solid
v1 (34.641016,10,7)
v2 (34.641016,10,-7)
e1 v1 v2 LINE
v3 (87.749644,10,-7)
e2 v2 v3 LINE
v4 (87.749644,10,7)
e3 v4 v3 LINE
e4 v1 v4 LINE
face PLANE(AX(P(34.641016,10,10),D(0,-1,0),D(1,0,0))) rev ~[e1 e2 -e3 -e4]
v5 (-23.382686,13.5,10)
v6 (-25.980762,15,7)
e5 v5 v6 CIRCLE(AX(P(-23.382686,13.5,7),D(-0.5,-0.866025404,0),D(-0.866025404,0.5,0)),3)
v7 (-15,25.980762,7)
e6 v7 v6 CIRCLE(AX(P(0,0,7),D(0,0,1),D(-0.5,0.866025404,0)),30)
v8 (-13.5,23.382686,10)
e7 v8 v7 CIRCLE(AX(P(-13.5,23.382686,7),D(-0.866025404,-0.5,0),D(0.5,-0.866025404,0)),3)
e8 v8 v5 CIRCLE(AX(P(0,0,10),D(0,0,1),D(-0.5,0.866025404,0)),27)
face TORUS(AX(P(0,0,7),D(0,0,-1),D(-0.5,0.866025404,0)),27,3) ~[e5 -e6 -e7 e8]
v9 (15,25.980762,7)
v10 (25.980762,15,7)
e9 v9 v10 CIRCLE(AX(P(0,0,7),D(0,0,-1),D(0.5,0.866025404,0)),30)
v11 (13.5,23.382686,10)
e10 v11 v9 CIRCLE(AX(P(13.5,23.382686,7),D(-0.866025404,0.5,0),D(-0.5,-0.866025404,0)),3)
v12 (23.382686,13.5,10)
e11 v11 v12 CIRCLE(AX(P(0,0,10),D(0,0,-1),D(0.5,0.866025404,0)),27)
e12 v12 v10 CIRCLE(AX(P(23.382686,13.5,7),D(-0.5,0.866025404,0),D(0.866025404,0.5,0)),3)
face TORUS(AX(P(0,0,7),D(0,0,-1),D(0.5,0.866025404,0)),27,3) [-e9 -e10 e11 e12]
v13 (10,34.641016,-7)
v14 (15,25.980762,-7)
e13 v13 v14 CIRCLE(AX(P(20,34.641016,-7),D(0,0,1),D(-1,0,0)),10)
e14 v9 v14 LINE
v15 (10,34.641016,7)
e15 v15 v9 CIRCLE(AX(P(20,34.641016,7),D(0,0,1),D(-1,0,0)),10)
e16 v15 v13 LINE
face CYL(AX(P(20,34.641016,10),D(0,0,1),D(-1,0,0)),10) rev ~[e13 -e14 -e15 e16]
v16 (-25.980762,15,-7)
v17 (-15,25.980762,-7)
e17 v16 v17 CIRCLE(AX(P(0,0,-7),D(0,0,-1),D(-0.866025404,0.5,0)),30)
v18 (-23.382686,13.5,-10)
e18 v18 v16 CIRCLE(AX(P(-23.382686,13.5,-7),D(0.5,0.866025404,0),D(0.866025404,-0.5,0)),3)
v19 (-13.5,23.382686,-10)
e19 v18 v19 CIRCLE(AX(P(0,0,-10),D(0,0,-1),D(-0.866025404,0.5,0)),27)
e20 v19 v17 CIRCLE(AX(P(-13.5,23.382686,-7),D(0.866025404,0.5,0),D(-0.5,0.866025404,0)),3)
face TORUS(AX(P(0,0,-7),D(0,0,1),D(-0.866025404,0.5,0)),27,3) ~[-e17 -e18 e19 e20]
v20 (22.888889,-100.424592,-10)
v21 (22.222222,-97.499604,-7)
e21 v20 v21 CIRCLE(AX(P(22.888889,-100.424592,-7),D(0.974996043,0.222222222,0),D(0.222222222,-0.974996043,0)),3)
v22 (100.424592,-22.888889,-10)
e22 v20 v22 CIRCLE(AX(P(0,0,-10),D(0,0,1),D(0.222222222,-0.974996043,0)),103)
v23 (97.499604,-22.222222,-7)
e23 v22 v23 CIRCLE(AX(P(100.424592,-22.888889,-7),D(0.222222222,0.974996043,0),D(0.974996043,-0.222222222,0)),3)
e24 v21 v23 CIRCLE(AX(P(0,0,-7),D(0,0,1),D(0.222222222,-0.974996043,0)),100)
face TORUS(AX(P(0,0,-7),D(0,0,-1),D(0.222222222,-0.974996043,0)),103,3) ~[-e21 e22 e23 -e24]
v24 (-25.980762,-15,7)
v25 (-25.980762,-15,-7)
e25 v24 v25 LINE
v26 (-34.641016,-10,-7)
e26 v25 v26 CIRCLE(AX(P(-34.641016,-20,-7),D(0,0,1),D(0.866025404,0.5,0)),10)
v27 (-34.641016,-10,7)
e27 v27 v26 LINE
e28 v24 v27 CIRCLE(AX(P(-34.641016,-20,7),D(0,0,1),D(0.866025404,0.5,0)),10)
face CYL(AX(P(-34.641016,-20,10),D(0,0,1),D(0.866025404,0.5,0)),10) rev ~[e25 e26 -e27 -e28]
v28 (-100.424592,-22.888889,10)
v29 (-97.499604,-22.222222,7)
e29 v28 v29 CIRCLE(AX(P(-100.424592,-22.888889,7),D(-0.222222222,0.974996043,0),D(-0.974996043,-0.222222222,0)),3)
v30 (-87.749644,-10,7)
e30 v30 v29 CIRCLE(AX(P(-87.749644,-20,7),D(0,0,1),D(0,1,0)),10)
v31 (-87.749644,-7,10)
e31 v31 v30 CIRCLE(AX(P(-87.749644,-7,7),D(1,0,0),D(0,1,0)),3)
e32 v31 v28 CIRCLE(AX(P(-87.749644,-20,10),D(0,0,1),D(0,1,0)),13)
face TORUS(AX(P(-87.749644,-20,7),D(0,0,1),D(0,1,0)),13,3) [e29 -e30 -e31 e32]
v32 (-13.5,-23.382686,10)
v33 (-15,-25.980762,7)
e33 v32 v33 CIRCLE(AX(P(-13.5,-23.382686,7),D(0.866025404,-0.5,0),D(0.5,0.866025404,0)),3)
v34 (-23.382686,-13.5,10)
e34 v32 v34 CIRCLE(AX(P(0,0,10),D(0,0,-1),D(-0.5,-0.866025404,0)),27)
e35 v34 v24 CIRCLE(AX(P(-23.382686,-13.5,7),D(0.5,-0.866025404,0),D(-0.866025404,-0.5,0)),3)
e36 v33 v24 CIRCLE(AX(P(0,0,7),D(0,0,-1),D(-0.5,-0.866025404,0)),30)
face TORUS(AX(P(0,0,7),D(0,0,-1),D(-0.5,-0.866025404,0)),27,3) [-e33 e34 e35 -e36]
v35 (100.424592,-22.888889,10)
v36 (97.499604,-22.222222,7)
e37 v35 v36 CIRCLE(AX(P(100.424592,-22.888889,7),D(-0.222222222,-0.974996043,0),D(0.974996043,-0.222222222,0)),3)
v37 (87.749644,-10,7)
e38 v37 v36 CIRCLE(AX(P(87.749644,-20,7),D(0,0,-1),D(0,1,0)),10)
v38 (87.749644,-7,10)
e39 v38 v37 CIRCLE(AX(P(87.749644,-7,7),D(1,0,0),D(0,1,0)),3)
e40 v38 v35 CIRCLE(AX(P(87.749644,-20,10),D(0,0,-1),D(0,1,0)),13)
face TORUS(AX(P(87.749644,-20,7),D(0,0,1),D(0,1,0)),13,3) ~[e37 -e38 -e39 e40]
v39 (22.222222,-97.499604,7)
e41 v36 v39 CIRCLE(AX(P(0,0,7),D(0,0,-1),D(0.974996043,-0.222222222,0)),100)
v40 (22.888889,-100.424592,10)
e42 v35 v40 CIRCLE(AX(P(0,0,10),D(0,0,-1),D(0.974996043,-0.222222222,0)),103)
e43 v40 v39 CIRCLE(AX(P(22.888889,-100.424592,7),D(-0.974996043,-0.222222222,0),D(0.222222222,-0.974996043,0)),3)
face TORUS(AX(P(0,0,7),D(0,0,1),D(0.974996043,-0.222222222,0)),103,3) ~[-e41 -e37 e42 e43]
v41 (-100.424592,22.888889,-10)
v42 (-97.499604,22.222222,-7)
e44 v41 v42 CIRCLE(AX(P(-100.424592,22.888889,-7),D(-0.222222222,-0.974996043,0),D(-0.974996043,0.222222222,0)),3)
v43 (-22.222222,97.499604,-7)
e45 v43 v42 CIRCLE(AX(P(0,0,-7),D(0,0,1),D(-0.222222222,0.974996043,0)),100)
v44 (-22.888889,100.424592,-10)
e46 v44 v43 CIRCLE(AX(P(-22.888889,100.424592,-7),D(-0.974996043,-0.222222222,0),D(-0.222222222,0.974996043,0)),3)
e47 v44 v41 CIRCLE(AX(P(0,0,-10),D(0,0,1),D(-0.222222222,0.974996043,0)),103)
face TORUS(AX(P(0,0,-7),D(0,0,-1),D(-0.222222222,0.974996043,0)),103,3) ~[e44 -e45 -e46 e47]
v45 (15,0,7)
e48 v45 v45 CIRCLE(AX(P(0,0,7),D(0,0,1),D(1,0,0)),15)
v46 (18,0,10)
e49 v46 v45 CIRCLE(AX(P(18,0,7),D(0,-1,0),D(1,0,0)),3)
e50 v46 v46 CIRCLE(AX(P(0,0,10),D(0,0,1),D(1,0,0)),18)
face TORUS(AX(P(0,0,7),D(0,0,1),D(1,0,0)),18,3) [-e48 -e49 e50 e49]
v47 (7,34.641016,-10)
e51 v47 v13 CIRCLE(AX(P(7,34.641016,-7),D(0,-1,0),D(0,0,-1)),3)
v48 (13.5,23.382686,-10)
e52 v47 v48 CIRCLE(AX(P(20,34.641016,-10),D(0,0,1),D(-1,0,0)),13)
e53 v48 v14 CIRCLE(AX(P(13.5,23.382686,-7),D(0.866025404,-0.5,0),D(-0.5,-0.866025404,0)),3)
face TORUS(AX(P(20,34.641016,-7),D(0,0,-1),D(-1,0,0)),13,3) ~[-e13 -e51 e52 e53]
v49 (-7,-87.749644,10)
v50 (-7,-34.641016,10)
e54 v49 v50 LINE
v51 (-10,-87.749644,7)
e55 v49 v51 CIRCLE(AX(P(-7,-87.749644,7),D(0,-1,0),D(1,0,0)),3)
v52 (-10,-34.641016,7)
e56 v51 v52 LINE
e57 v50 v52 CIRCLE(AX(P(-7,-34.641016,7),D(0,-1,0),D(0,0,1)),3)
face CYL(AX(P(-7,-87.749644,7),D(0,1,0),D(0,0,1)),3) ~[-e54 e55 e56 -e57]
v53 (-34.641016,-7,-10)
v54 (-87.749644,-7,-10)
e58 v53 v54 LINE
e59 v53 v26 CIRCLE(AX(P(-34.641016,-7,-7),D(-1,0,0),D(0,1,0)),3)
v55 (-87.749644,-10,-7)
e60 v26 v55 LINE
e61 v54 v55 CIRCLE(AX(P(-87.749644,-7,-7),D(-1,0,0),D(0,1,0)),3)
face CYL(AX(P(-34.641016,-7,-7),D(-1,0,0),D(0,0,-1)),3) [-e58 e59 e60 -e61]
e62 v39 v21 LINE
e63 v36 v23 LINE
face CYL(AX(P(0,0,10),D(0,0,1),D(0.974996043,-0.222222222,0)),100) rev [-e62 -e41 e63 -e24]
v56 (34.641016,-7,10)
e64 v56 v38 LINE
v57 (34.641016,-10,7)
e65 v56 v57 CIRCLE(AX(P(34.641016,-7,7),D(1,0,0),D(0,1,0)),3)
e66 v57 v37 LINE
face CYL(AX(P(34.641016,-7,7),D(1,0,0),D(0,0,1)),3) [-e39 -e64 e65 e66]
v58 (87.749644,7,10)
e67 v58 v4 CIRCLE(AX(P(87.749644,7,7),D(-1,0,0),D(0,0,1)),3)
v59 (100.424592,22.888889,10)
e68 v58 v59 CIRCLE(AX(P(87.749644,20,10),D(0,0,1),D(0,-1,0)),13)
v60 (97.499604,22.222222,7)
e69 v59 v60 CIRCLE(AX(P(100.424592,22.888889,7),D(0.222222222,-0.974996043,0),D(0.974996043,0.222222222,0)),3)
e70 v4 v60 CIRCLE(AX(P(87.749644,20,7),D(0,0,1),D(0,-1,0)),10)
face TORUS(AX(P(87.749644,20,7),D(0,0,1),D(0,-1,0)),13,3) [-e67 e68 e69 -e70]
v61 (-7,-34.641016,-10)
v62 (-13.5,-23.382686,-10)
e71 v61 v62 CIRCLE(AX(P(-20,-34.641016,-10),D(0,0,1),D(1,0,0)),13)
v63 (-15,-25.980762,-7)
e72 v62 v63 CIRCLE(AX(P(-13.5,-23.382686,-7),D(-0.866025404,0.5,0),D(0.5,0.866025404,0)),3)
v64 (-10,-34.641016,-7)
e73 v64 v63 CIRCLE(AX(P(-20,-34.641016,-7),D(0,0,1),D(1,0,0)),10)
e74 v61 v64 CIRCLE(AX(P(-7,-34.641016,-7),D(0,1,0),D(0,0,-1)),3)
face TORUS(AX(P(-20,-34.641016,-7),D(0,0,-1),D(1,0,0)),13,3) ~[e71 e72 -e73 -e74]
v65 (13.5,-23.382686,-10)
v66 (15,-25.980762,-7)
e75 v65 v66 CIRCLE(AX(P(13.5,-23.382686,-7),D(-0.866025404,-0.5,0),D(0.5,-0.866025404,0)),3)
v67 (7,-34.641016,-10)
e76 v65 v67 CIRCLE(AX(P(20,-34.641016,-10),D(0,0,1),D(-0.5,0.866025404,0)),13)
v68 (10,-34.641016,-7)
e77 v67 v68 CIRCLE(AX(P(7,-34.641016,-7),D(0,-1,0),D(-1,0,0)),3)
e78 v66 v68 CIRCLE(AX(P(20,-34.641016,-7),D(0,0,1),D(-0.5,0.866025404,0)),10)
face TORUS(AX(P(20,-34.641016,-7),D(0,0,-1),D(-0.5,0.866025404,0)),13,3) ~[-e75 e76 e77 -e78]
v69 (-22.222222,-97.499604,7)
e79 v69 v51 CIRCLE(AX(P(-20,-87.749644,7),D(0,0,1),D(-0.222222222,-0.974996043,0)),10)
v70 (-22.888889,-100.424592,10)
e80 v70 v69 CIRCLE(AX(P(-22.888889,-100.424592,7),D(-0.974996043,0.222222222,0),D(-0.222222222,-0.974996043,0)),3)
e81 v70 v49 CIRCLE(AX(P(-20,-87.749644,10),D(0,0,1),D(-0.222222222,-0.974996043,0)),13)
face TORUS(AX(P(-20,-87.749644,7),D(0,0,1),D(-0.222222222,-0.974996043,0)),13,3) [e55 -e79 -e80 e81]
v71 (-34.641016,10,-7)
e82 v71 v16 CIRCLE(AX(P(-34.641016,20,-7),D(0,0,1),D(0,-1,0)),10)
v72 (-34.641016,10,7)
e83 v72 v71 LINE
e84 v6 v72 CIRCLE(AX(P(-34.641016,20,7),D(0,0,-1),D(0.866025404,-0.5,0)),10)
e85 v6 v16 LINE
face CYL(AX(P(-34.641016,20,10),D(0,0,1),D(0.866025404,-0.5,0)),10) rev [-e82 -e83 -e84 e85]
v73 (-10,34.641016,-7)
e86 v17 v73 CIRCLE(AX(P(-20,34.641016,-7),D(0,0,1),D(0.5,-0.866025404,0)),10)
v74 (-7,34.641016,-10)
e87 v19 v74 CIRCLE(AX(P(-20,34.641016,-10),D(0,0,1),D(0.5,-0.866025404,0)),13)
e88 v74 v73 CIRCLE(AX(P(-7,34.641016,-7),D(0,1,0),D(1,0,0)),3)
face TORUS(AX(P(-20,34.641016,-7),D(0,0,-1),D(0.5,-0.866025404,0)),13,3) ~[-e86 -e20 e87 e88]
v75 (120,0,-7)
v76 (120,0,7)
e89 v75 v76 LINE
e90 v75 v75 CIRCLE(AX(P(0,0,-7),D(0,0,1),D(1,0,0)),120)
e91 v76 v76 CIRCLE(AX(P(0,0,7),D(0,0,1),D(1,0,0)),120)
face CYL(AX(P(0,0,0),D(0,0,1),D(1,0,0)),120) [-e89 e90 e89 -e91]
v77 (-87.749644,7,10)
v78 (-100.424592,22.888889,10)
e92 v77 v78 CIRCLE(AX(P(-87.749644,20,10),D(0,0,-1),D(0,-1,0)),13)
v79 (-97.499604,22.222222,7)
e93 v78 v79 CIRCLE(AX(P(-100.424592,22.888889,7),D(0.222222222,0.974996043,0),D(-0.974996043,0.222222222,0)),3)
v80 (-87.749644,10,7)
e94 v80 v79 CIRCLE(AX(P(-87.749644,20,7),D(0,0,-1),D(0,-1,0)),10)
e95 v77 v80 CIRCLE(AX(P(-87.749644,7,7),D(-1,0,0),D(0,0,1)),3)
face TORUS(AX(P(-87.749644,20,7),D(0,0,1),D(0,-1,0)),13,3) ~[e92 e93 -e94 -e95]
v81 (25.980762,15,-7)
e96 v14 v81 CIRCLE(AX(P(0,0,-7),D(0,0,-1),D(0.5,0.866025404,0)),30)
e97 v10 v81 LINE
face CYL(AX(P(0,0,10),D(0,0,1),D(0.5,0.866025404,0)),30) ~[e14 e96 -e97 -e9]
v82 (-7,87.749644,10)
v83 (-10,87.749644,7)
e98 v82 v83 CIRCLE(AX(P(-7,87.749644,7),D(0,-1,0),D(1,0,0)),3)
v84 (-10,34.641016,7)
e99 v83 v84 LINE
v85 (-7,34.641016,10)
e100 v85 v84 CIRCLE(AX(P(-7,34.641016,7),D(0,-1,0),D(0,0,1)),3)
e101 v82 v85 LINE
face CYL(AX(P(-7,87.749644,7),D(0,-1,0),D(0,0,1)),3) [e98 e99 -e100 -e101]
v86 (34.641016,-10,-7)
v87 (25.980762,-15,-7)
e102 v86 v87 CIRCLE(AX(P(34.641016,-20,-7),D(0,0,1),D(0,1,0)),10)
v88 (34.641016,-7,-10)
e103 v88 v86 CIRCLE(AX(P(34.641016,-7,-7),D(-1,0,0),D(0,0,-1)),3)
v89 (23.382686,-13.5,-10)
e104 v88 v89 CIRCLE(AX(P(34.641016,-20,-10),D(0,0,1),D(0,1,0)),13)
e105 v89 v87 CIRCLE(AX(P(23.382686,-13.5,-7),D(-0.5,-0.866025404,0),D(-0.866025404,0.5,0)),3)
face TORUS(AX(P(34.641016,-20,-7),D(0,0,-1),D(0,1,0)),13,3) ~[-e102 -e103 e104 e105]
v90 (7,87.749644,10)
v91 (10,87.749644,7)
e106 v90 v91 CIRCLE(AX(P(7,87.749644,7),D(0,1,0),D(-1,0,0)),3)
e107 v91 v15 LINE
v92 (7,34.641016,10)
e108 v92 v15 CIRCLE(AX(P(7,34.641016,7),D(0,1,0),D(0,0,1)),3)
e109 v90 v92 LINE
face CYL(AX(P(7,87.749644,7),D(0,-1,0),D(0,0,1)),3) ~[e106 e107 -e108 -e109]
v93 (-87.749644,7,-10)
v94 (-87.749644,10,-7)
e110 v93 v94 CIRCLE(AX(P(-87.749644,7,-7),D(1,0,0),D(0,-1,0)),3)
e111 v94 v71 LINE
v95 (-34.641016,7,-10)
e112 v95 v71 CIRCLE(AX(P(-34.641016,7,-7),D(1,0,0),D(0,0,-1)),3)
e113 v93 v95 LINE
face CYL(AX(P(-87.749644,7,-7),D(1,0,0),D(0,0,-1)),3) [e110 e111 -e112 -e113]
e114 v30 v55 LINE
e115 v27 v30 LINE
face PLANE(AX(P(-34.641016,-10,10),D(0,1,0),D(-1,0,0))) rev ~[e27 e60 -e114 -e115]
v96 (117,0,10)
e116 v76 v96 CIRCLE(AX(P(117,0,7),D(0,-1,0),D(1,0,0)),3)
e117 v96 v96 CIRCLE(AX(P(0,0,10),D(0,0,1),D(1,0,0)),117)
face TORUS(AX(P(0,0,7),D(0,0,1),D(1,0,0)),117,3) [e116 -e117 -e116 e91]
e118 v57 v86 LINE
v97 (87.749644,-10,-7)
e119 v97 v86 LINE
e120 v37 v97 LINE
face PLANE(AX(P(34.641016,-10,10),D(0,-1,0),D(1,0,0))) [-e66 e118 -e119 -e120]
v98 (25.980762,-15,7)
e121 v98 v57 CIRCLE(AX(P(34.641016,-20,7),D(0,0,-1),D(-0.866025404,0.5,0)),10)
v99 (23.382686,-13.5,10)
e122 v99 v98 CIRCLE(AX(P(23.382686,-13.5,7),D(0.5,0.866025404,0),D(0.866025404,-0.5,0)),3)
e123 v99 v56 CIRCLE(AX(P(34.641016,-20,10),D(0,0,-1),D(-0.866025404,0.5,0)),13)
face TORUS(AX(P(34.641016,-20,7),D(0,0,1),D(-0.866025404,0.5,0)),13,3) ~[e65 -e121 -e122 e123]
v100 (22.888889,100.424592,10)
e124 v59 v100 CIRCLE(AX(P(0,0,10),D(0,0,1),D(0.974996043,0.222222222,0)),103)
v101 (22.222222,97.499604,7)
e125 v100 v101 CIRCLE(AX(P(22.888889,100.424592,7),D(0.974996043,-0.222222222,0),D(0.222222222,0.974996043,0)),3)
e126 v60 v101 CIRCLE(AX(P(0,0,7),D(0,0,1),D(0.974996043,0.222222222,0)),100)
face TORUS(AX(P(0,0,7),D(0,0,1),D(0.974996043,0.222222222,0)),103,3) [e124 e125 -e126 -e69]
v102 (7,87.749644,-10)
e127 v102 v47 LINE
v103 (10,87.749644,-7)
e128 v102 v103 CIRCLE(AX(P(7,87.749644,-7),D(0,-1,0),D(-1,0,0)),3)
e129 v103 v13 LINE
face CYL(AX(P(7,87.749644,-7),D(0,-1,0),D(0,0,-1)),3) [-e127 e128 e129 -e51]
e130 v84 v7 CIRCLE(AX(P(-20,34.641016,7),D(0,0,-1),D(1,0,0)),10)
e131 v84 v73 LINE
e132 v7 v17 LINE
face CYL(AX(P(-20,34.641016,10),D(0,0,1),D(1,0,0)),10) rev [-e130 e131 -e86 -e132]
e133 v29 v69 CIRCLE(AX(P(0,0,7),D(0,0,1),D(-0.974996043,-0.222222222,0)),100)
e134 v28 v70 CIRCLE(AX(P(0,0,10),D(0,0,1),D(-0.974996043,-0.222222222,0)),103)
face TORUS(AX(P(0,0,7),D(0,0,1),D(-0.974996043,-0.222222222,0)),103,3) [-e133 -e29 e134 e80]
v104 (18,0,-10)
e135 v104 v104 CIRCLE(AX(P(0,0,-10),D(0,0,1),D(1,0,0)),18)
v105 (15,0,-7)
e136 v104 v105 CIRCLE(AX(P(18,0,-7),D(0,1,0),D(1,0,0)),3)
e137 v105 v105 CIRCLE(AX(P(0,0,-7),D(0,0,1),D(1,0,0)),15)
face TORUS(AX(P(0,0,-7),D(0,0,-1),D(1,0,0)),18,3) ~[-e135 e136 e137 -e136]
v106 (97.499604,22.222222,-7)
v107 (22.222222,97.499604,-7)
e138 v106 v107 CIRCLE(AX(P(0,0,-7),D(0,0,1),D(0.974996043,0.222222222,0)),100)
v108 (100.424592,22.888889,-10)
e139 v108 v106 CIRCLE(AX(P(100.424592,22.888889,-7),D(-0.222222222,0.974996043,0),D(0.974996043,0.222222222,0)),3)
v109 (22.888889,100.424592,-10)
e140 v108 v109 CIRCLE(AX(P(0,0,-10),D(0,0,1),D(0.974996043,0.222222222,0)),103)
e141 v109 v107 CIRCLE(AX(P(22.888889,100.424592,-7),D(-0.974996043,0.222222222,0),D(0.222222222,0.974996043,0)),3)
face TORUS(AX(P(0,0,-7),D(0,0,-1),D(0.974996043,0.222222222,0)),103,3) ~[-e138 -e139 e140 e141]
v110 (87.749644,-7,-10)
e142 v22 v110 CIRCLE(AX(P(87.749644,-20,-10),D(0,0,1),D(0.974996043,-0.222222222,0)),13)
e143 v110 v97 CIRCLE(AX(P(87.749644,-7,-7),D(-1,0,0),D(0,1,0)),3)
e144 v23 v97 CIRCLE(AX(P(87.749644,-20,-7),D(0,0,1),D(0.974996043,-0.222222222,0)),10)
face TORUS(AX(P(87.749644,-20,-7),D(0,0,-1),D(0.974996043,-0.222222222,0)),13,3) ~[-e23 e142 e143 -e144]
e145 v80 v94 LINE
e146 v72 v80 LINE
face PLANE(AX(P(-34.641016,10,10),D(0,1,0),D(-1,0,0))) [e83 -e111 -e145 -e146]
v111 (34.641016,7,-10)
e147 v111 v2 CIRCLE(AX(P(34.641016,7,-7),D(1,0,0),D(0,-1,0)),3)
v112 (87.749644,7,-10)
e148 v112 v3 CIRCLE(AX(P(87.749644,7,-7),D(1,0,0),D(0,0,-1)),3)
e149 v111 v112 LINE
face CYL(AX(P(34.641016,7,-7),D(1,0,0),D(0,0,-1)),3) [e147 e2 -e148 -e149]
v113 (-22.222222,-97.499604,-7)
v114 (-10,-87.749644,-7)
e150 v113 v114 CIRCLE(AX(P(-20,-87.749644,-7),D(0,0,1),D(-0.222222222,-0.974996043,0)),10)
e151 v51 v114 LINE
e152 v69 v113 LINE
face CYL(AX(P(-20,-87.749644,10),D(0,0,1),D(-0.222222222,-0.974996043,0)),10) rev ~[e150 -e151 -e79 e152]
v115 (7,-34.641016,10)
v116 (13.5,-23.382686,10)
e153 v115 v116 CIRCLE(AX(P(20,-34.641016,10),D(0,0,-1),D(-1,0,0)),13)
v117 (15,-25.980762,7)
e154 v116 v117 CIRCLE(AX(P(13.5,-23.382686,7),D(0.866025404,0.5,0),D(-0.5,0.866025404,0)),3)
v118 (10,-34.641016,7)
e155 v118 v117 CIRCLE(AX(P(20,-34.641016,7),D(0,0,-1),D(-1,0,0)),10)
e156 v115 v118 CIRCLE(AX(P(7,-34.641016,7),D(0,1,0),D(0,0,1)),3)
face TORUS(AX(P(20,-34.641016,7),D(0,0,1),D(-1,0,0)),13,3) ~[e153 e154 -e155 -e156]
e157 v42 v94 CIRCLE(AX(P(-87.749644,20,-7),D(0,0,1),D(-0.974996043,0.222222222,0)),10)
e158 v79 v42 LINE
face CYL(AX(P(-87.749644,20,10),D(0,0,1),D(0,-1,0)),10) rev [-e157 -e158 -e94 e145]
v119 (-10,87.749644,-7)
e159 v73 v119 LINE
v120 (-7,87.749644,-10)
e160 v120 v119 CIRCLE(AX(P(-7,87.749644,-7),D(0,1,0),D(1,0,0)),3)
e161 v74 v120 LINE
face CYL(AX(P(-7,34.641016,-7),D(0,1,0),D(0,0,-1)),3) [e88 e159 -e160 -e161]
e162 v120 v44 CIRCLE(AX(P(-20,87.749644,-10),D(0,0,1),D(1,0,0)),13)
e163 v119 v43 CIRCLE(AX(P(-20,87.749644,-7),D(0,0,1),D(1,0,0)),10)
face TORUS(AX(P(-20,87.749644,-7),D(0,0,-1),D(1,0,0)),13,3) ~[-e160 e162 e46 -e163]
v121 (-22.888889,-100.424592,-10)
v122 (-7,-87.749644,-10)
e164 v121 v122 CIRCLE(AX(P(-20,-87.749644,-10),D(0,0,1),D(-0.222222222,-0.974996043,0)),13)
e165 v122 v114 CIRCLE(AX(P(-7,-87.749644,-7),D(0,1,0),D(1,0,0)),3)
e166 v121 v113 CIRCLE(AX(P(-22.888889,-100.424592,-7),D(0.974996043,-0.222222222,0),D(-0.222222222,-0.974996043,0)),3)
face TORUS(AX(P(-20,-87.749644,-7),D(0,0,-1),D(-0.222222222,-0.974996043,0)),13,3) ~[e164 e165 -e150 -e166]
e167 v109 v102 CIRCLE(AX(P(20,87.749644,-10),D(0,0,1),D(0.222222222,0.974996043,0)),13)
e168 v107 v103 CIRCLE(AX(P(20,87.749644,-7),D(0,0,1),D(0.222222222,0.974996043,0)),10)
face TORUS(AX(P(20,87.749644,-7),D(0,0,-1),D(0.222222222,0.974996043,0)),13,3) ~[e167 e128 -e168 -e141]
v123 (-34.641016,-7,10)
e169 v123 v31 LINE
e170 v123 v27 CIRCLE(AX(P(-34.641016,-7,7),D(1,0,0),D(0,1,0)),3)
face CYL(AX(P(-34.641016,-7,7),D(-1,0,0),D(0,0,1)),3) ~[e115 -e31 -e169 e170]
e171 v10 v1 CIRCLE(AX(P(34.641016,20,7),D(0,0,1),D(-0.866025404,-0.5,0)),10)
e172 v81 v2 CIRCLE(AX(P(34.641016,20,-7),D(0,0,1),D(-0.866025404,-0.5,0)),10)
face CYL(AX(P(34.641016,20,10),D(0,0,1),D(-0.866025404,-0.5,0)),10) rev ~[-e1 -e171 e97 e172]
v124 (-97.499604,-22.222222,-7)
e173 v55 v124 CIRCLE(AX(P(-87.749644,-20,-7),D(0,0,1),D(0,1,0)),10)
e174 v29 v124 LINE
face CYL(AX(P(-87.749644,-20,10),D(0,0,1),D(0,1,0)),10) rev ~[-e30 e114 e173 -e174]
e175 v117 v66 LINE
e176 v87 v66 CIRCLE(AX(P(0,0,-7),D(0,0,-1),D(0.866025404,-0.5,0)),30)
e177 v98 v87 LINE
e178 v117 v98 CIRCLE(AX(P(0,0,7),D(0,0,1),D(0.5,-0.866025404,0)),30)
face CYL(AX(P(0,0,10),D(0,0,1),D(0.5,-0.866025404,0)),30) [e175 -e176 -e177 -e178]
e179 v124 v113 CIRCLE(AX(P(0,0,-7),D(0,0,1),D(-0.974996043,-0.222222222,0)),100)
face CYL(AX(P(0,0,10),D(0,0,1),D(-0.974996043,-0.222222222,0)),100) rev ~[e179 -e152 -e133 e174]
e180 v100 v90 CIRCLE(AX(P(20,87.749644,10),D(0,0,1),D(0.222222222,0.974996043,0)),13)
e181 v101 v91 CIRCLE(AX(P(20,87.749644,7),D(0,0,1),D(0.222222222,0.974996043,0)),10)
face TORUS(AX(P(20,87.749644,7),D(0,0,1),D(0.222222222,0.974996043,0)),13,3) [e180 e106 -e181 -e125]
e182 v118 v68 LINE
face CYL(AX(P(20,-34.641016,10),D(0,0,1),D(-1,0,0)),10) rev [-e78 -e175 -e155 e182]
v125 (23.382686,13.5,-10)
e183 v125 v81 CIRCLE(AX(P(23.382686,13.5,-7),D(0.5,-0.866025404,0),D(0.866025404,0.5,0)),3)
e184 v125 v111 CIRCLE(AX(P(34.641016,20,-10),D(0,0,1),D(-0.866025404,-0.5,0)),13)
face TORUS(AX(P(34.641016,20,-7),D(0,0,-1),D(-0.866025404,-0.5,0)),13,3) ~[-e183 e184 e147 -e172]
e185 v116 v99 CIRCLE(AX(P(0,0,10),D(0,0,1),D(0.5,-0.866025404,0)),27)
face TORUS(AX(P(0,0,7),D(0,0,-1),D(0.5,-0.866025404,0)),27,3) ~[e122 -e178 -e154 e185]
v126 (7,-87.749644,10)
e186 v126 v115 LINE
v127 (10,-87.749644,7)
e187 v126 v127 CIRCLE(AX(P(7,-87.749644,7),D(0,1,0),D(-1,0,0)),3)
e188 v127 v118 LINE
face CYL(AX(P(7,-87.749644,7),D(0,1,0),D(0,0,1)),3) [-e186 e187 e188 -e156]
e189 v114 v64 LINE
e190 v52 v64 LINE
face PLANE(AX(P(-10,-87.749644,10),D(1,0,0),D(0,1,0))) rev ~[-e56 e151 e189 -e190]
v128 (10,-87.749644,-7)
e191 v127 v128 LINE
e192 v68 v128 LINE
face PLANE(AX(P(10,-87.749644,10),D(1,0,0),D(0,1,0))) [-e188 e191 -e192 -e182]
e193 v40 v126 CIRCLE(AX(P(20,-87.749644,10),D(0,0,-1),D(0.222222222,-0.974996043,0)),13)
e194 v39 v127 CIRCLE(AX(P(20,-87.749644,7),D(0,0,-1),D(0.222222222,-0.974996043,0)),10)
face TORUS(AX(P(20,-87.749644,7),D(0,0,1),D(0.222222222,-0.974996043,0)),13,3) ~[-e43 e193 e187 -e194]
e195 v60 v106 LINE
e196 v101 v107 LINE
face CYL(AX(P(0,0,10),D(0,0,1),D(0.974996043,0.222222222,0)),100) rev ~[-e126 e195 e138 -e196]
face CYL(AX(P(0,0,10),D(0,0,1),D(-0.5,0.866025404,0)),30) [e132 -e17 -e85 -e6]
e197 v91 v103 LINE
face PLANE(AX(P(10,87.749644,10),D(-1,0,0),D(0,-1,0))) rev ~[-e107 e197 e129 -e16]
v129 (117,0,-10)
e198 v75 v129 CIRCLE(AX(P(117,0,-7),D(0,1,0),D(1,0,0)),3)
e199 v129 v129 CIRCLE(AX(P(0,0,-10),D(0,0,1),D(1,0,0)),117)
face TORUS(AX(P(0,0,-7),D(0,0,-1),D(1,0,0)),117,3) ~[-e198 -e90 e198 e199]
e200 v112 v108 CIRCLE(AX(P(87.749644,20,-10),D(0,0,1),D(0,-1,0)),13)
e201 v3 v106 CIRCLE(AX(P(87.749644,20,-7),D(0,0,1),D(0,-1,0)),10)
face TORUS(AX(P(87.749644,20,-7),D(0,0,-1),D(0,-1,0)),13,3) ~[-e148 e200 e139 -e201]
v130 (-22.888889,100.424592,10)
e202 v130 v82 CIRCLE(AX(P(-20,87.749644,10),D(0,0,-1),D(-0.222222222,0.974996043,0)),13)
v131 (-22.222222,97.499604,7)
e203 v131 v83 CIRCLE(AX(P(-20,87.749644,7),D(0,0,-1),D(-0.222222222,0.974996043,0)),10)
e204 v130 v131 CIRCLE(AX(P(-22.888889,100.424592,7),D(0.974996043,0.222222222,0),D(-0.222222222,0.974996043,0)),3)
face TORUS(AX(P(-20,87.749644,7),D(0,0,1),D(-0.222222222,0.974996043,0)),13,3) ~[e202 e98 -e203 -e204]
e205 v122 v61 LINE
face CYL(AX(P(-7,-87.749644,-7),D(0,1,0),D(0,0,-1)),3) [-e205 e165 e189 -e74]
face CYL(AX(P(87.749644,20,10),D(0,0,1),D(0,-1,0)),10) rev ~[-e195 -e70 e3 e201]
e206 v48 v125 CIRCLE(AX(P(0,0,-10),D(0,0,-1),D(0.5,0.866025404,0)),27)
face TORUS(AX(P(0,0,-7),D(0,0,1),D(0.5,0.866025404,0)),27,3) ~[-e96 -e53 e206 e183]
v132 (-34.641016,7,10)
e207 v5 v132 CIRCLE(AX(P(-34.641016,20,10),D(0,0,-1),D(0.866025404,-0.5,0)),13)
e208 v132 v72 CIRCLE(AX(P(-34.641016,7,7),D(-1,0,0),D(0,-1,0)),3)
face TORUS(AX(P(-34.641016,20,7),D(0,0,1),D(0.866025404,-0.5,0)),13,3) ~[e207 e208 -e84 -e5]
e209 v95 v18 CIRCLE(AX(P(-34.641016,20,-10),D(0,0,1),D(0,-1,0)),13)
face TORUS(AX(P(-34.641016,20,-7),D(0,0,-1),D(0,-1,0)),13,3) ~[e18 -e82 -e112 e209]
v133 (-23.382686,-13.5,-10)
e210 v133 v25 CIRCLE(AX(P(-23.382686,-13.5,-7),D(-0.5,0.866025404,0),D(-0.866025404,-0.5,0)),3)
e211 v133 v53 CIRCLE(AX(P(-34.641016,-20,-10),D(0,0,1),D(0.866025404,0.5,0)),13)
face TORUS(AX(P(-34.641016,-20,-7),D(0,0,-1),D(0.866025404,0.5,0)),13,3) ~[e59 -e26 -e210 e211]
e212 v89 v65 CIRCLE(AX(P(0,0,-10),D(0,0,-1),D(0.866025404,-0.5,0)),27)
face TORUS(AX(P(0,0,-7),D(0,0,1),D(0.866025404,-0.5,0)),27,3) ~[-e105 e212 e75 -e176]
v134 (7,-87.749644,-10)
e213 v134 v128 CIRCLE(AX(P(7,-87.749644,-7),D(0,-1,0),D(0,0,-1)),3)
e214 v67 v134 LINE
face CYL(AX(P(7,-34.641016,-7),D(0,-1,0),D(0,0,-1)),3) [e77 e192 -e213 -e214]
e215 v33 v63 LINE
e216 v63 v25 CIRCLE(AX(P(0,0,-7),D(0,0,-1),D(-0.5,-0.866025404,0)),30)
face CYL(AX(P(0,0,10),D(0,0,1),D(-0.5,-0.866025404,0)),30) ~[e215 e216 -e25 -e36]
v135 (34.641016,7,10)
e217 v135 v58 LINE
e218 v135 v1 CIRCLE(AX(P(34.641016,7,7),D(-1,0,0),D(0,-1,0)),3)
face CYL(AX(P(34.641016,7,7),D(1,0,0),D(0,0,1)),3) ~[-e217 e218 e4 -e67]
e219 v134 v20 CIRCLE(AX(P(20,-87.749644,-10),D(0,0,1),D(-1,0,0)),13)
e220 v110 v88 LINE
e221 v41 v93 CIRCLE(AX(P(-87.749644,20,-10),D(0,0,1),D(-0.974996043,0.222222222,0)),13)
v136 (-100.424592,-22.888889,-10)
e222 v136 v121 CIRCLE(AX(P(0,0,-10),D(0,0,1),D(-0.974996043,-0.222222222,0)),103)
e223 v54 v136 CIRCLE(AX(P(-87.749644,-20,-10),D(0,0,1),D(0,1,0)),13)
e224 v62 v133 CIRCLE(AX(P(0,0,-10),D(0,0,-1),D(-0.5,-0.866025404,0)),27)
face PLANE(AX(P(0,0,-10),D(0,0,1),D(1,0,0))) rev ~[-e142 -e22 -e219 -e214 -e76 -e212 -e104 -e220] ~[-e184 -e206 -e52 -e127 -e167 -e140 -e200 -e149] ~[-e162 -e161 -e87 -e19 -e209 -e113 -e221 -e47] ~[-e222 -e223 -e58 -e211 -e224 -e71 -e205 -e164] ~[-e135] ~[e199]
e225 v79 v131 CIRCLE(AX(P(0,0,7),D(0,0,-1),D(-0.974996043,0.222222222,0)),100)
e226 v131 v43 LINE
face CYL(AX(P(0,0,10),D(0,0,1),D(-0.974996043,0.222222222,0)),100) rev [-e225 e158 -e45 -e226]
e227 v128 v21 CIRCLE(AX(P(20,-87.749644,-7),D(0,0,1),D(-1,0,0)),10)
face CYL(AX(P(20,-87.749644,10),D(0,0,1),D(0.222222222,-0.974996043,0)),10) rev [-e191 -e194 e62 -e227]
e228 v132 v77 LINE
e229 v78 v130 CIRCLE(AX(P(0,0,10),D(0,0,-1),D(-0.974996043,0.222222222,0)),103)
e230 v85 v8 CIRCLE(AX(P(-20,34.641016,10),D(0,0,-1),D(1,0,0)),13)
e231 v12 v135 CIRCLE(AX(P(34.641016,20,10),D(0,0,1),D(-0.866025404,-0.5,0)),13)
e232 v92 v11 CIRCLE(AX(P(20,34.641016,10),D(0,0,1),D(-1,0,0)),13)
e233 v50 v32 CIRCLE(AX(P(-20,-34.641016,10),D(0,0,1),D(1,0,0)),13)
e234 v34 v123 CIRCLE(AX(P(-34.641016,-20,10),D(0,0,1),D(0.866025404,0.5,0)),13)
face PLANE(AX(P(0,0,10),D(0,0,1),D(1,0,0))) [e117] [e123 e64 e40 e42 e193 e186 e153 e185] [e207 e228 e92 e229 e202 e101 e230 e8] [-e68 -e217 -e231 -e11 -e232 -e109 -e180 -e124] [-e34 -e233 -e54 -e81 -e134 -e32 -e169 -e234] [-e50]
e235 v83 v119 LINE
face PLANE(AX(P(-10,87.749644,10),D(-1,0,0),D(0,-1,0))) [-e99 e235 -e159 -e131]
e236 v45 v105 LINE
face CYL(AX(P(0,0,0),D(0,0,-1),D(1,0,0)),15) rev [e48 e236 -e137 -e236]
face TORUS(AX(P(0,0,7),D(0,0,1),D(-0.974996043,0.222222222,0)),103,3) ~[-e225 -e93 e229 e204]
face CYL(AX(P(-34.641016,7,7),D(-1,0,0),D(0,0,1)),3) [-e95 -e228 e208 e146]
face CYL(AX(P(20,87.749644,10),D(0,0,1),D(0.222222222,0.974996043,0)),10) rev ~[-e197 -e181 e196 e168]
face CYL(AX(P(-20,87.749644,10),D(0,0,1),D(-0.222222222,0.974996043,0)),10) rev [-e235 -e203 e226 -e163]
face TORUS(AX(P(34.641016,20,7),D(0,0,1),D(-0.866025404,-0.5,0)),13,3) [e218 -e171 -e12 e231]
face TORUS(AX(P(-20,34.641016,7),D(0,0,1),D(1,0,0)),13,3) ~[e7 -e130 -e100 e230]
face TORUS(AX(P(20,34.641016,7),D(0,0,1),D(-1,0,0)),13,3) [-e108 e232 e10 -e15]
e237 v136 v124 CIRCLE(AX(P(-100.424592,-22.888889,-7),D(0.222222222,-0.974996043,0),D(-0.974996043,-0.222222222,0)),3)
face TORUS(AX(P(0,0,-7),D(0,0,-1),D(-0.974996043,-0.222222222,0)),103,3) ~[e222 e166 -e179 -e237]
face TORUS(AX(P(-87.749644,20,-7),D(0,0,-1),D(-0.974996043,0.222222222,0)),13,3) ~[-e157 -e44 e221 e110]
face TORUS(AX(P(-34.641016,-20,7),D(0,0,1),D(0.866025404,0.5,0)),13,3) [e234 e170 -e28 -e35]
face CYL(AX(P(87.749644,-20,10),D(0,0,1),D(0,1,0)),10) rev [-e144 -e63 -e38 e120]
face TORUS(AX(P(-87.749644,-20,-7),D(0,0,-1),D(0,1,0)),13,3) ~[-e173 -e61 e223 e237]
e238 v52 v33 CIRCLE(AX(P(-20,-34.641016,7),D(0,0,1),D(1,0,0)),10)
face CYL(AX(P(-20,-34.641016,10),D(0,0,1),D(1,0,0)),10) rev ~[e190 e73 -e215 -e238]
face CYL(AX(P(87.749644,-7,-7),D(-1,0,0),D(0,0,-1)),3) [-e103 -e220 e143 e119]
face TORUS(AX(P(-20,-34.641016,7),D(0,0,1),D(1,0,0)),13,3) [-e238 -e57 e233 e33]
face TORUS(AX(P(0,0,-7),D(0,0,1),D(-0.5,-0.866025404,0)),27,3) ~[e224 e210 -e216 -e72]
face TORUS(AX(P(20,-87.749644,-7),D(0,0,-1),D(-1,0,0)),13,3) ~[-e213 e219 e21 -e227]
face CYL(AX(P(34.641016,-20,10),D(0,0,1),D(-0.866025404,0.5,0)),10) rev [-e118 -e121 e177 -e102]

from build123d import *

# Parameters (mm, degrees)
SKETCH2_R               = 120
SKETCH2_R_2             = 15
BOSS_EXTRUDE1_DEPTH     = 10
CUT_EXTRUDE1_DEPTH      = 1
CUT_EXTRUDE1_DEPTH_BACK = 21
FILLET1_R               = 3


with BuildPart() as part:
    # Sketch2 → Boss-Extrude1 (new body, symmetric)
    with BuildSketch(Plane.XY):
        Circle(SKETCH2_R)
        Circle(SKETCH2_R_2, mode=Mode.SUBTRACT)
    extrude(amount=BOSS_EXTRUDE1_DEPTH, both=True)

    # Sketch3 → Cut-Extrude1 (cut, two sides)
    with BuildSketch(Plane.XY.offset(10)) as cut_extrude1_sk:
        with BuildLine():
            Line((-10, -87.749643874), (-10, -34.641016151))
            ThreePointArc((-10, -34.641016151), (-11.339745962, -29.641016151), (-15, -25.980762114))
            ThreePointArc((-15, -25.980762114), (-21.213203436, -21.213203436), (-25.980762114, -15))
            ThreePointArc((-25.980762114, -15), (-29.641016151, -11.339745962), (-34.641016151, -10))
            Line((-34.641016151, -10), (-87.749643874, -10))
            ThreePointArc((-87.749643874, -10), (-95.567003474, -13.763904355), (-97.499604304, -22.222222222))
            ThreePointArc((-97.499604304, -22.222222222), (-70.710678119, -70.710678119), (-22.222222222, -97.499604304))
            ThreePointArc((-22.222222222, -97.499604304), (-13.763904355, -95.567003474), (-10, -87.749643874))
        make_face()
        with BuildLine():
            Line((10, -87.749643874), (10, -34.641016151))
            ThreePointArc((10, -34.641016151), (11.339745962, -29.641016151), (15, -25.980762114))
            ThreePointArc((15, -25.980762114), (21.213203436, -21.213203436), (25.980762114, -15))
            ThreePointArc((25.980762114, -15), (29.641016151, -11.339745962), (34.641016151, -10))
            Line((34.641016151, -10), (87.749643874, -10))
            ThreePointArc((87.749643874, -10), (95.567003474, -13.763904355), (97.499604304, -22.222222222))
            ThreePointArc((97.499604304, -22.222222222), (70.710678119, -70.710678119), (22.222222222, -97.499604304))
            ThreePointArc((22.222222222, -97.499604304), (13.763904355, -95.567003474), (10, -87.749643874))
        make_face()
        with BuildLine():
            Line((10, 87.749643874), (10, 34.641016151))
            ThreePointArc((10, 34.641016151), (11.339745962, 29.641016151), (15, 25.980762114))
            ThreePointArc((15, 25.980762114), (21.213203436, 21.213203436), (25.980762114, 15))
            ThreePointArc((25.980762114, 15), (29.641016151, 11.339745962), (34.641016151, 10))
            Line((34.641016151, 10), (87.749643874, 10))
            ThreePointArc((87.749643874, 10), (95.567003474, 13.763904355), (97.499604304, 22.222222222))
            ThreePointArc((97.499604304, 22.222222222), (70.710678119, 70.710678119), (22.222222222, 97.499604304))
            ThreePointArc((22.222222222, 97.499604304), (13.763904355, 95.567003474), (10, 87.749643874))
        make_face()
        with BuildLine():
            Line((-34.641016151, 10), (-87.749643874, 10))
            ThreePointArc((-87.749643874, 10), (-95.567003474, 13.763904355), (-97.499604304, 22.222222222))
            ThreePointArc((-97.499604304, 22.222222222), (-70.710678119, 70.710678119), (-22.222222222, 97.499604304))
            ThreePointArc((-22.222222222, 97.499604304), (-13.763904355, 95.567003474), (-10, 87.749643874))
            Line((-10, 87.749643874), (-10, 34.641016151))
            ThreePointArc((-10, 34.641016151), (-11.339745962, 29.641016151), (-15, 25.980762114))
            ThreePointArc((-15, 25.980762114), (-21.213203436, 21.213203436), (-25.980762114, 15))
            ThreePointArc((-25.980762114, 15), (-29.641016151, 11.339745962), (-34.641016151, 10))
        make_face()
    extrude(amount=CUT_EXTRUDE1_DEPTH, mode=Mode.SUBTRACT)
    extrude(cut_extrude1_sk.sketch, amount=-CUT_EXTRUDE1_DEPTH_BACK, mode=Mode.SUBTRACT)

    # Fillet1
    fillet1_edges = [part.edges().sort_by_distance(p)[0] for p in [
        (-120, 0, -10),
        (-13.763904355, 95.567003474, 10),
        (-11.339745962, 29.641016151, 10),
        (-21.213203436, 21.213203436, 10),
        (-29.641016151, 11.339745962, 10),
        (-95.567003474, 13.763904355, 10),
        (-70.710678119, 70.710678119, 10),
        (-13.763904355, 95.567003474, -10),
        (-10, 61.195330013, -10),
        (-11.339745962, 29.641016151, -10),
        (-21.213203436, 21.213203436, -10),
        (-29.641016151, 11.339745962, -10),
        (-61.195330013, 10, -10),
        (-95.567003474, 13.763904355, -10),
        (-70.710678119, 70.710678119, -10),
        (-61.195330013, 10, 10),
        (-10, 61.195330013, 10),
        (-120, 0, 10),
        (-15, 0, -10),
        (-15, 0, 10),
        (13.763904355, 95.567003474, 10),
        (70.710678119, 70.710678119, 10),
        (95.567003474, 13.763904355, 10),
        (29.641016151, 11.339745962, 10),
        (21.213203436, 21.213203436, 10),
        (11.339745962, 29.641016151, 10),
        (13.763904355, 95.567003474, -10),
        (70.710678119, 70.710678119, -10),
        (95.567003474, 13.763904355, -10),
        (61.195330013, 10, -10),
        (29.641016151, 11.339745962, -10),
        (21.213203436, 21.213203436, -10),
        (11.339745962, 29.641016151, -10),
        (10, 61.195330013, -10),
        (10, 61.195330013, 10),
        (61.195330013, 10, 10),
        (95.567003474, -13.763904355, 10),
        (70.710678119, -70.710678119, 10),
        (13.763904355, -95.567003474, 10),
        (11.339745962, -29.641016151, 10),
        (21.213203436, -21.213203436, 10),
        (29.641016151, -11.339745962, 10),
        (95.567003474, -13.763904355, -10),
        (70.710678119, -70.710678119, -10),
        (13.763904355, -95.567003474, -10),
        (10, -61.195330013, -10),
        (11.339745962, -29.641016151, -10),
        (21.213203436, -21.213203436, -10),
        (29.641016151, -11.339745962, -10),
        (61.195330013, -10, -10),
        (61.195330013, -10, 10),
        (10, -61.195330013, 10),
        (-95.567003474, -13.763904355, 10),
        (-29.641016151, -11.339745962, 10),
        (-21.213203436, -21.213203436, 10),
        (-11.339745962, -29.641016151, 10),
        (-13.763904355, -95.567003474, 10),
        (-70.710678119, -70.710678119, 10),
        (-95.567003474, -13.763904355, -10),
        (-61.195330013, -10, -10),
        (-29.641016151, -11.339745962, -10),
        (-21.213203436, -21.213203436, -10),
        (-11.339745962, -29.641016151, -10),
        (-10, -61.195330013, -10),
        (-13.763904355, -95.567003474, -10),
        (-70.710678119, -70.710678119, -10),
        (-10, -61.195330013, 10),
        (-61.195330013, -10, 10),
    ]]
    fillet(fillet1_edges, radius=FILLET1_R)


solid = part.part
